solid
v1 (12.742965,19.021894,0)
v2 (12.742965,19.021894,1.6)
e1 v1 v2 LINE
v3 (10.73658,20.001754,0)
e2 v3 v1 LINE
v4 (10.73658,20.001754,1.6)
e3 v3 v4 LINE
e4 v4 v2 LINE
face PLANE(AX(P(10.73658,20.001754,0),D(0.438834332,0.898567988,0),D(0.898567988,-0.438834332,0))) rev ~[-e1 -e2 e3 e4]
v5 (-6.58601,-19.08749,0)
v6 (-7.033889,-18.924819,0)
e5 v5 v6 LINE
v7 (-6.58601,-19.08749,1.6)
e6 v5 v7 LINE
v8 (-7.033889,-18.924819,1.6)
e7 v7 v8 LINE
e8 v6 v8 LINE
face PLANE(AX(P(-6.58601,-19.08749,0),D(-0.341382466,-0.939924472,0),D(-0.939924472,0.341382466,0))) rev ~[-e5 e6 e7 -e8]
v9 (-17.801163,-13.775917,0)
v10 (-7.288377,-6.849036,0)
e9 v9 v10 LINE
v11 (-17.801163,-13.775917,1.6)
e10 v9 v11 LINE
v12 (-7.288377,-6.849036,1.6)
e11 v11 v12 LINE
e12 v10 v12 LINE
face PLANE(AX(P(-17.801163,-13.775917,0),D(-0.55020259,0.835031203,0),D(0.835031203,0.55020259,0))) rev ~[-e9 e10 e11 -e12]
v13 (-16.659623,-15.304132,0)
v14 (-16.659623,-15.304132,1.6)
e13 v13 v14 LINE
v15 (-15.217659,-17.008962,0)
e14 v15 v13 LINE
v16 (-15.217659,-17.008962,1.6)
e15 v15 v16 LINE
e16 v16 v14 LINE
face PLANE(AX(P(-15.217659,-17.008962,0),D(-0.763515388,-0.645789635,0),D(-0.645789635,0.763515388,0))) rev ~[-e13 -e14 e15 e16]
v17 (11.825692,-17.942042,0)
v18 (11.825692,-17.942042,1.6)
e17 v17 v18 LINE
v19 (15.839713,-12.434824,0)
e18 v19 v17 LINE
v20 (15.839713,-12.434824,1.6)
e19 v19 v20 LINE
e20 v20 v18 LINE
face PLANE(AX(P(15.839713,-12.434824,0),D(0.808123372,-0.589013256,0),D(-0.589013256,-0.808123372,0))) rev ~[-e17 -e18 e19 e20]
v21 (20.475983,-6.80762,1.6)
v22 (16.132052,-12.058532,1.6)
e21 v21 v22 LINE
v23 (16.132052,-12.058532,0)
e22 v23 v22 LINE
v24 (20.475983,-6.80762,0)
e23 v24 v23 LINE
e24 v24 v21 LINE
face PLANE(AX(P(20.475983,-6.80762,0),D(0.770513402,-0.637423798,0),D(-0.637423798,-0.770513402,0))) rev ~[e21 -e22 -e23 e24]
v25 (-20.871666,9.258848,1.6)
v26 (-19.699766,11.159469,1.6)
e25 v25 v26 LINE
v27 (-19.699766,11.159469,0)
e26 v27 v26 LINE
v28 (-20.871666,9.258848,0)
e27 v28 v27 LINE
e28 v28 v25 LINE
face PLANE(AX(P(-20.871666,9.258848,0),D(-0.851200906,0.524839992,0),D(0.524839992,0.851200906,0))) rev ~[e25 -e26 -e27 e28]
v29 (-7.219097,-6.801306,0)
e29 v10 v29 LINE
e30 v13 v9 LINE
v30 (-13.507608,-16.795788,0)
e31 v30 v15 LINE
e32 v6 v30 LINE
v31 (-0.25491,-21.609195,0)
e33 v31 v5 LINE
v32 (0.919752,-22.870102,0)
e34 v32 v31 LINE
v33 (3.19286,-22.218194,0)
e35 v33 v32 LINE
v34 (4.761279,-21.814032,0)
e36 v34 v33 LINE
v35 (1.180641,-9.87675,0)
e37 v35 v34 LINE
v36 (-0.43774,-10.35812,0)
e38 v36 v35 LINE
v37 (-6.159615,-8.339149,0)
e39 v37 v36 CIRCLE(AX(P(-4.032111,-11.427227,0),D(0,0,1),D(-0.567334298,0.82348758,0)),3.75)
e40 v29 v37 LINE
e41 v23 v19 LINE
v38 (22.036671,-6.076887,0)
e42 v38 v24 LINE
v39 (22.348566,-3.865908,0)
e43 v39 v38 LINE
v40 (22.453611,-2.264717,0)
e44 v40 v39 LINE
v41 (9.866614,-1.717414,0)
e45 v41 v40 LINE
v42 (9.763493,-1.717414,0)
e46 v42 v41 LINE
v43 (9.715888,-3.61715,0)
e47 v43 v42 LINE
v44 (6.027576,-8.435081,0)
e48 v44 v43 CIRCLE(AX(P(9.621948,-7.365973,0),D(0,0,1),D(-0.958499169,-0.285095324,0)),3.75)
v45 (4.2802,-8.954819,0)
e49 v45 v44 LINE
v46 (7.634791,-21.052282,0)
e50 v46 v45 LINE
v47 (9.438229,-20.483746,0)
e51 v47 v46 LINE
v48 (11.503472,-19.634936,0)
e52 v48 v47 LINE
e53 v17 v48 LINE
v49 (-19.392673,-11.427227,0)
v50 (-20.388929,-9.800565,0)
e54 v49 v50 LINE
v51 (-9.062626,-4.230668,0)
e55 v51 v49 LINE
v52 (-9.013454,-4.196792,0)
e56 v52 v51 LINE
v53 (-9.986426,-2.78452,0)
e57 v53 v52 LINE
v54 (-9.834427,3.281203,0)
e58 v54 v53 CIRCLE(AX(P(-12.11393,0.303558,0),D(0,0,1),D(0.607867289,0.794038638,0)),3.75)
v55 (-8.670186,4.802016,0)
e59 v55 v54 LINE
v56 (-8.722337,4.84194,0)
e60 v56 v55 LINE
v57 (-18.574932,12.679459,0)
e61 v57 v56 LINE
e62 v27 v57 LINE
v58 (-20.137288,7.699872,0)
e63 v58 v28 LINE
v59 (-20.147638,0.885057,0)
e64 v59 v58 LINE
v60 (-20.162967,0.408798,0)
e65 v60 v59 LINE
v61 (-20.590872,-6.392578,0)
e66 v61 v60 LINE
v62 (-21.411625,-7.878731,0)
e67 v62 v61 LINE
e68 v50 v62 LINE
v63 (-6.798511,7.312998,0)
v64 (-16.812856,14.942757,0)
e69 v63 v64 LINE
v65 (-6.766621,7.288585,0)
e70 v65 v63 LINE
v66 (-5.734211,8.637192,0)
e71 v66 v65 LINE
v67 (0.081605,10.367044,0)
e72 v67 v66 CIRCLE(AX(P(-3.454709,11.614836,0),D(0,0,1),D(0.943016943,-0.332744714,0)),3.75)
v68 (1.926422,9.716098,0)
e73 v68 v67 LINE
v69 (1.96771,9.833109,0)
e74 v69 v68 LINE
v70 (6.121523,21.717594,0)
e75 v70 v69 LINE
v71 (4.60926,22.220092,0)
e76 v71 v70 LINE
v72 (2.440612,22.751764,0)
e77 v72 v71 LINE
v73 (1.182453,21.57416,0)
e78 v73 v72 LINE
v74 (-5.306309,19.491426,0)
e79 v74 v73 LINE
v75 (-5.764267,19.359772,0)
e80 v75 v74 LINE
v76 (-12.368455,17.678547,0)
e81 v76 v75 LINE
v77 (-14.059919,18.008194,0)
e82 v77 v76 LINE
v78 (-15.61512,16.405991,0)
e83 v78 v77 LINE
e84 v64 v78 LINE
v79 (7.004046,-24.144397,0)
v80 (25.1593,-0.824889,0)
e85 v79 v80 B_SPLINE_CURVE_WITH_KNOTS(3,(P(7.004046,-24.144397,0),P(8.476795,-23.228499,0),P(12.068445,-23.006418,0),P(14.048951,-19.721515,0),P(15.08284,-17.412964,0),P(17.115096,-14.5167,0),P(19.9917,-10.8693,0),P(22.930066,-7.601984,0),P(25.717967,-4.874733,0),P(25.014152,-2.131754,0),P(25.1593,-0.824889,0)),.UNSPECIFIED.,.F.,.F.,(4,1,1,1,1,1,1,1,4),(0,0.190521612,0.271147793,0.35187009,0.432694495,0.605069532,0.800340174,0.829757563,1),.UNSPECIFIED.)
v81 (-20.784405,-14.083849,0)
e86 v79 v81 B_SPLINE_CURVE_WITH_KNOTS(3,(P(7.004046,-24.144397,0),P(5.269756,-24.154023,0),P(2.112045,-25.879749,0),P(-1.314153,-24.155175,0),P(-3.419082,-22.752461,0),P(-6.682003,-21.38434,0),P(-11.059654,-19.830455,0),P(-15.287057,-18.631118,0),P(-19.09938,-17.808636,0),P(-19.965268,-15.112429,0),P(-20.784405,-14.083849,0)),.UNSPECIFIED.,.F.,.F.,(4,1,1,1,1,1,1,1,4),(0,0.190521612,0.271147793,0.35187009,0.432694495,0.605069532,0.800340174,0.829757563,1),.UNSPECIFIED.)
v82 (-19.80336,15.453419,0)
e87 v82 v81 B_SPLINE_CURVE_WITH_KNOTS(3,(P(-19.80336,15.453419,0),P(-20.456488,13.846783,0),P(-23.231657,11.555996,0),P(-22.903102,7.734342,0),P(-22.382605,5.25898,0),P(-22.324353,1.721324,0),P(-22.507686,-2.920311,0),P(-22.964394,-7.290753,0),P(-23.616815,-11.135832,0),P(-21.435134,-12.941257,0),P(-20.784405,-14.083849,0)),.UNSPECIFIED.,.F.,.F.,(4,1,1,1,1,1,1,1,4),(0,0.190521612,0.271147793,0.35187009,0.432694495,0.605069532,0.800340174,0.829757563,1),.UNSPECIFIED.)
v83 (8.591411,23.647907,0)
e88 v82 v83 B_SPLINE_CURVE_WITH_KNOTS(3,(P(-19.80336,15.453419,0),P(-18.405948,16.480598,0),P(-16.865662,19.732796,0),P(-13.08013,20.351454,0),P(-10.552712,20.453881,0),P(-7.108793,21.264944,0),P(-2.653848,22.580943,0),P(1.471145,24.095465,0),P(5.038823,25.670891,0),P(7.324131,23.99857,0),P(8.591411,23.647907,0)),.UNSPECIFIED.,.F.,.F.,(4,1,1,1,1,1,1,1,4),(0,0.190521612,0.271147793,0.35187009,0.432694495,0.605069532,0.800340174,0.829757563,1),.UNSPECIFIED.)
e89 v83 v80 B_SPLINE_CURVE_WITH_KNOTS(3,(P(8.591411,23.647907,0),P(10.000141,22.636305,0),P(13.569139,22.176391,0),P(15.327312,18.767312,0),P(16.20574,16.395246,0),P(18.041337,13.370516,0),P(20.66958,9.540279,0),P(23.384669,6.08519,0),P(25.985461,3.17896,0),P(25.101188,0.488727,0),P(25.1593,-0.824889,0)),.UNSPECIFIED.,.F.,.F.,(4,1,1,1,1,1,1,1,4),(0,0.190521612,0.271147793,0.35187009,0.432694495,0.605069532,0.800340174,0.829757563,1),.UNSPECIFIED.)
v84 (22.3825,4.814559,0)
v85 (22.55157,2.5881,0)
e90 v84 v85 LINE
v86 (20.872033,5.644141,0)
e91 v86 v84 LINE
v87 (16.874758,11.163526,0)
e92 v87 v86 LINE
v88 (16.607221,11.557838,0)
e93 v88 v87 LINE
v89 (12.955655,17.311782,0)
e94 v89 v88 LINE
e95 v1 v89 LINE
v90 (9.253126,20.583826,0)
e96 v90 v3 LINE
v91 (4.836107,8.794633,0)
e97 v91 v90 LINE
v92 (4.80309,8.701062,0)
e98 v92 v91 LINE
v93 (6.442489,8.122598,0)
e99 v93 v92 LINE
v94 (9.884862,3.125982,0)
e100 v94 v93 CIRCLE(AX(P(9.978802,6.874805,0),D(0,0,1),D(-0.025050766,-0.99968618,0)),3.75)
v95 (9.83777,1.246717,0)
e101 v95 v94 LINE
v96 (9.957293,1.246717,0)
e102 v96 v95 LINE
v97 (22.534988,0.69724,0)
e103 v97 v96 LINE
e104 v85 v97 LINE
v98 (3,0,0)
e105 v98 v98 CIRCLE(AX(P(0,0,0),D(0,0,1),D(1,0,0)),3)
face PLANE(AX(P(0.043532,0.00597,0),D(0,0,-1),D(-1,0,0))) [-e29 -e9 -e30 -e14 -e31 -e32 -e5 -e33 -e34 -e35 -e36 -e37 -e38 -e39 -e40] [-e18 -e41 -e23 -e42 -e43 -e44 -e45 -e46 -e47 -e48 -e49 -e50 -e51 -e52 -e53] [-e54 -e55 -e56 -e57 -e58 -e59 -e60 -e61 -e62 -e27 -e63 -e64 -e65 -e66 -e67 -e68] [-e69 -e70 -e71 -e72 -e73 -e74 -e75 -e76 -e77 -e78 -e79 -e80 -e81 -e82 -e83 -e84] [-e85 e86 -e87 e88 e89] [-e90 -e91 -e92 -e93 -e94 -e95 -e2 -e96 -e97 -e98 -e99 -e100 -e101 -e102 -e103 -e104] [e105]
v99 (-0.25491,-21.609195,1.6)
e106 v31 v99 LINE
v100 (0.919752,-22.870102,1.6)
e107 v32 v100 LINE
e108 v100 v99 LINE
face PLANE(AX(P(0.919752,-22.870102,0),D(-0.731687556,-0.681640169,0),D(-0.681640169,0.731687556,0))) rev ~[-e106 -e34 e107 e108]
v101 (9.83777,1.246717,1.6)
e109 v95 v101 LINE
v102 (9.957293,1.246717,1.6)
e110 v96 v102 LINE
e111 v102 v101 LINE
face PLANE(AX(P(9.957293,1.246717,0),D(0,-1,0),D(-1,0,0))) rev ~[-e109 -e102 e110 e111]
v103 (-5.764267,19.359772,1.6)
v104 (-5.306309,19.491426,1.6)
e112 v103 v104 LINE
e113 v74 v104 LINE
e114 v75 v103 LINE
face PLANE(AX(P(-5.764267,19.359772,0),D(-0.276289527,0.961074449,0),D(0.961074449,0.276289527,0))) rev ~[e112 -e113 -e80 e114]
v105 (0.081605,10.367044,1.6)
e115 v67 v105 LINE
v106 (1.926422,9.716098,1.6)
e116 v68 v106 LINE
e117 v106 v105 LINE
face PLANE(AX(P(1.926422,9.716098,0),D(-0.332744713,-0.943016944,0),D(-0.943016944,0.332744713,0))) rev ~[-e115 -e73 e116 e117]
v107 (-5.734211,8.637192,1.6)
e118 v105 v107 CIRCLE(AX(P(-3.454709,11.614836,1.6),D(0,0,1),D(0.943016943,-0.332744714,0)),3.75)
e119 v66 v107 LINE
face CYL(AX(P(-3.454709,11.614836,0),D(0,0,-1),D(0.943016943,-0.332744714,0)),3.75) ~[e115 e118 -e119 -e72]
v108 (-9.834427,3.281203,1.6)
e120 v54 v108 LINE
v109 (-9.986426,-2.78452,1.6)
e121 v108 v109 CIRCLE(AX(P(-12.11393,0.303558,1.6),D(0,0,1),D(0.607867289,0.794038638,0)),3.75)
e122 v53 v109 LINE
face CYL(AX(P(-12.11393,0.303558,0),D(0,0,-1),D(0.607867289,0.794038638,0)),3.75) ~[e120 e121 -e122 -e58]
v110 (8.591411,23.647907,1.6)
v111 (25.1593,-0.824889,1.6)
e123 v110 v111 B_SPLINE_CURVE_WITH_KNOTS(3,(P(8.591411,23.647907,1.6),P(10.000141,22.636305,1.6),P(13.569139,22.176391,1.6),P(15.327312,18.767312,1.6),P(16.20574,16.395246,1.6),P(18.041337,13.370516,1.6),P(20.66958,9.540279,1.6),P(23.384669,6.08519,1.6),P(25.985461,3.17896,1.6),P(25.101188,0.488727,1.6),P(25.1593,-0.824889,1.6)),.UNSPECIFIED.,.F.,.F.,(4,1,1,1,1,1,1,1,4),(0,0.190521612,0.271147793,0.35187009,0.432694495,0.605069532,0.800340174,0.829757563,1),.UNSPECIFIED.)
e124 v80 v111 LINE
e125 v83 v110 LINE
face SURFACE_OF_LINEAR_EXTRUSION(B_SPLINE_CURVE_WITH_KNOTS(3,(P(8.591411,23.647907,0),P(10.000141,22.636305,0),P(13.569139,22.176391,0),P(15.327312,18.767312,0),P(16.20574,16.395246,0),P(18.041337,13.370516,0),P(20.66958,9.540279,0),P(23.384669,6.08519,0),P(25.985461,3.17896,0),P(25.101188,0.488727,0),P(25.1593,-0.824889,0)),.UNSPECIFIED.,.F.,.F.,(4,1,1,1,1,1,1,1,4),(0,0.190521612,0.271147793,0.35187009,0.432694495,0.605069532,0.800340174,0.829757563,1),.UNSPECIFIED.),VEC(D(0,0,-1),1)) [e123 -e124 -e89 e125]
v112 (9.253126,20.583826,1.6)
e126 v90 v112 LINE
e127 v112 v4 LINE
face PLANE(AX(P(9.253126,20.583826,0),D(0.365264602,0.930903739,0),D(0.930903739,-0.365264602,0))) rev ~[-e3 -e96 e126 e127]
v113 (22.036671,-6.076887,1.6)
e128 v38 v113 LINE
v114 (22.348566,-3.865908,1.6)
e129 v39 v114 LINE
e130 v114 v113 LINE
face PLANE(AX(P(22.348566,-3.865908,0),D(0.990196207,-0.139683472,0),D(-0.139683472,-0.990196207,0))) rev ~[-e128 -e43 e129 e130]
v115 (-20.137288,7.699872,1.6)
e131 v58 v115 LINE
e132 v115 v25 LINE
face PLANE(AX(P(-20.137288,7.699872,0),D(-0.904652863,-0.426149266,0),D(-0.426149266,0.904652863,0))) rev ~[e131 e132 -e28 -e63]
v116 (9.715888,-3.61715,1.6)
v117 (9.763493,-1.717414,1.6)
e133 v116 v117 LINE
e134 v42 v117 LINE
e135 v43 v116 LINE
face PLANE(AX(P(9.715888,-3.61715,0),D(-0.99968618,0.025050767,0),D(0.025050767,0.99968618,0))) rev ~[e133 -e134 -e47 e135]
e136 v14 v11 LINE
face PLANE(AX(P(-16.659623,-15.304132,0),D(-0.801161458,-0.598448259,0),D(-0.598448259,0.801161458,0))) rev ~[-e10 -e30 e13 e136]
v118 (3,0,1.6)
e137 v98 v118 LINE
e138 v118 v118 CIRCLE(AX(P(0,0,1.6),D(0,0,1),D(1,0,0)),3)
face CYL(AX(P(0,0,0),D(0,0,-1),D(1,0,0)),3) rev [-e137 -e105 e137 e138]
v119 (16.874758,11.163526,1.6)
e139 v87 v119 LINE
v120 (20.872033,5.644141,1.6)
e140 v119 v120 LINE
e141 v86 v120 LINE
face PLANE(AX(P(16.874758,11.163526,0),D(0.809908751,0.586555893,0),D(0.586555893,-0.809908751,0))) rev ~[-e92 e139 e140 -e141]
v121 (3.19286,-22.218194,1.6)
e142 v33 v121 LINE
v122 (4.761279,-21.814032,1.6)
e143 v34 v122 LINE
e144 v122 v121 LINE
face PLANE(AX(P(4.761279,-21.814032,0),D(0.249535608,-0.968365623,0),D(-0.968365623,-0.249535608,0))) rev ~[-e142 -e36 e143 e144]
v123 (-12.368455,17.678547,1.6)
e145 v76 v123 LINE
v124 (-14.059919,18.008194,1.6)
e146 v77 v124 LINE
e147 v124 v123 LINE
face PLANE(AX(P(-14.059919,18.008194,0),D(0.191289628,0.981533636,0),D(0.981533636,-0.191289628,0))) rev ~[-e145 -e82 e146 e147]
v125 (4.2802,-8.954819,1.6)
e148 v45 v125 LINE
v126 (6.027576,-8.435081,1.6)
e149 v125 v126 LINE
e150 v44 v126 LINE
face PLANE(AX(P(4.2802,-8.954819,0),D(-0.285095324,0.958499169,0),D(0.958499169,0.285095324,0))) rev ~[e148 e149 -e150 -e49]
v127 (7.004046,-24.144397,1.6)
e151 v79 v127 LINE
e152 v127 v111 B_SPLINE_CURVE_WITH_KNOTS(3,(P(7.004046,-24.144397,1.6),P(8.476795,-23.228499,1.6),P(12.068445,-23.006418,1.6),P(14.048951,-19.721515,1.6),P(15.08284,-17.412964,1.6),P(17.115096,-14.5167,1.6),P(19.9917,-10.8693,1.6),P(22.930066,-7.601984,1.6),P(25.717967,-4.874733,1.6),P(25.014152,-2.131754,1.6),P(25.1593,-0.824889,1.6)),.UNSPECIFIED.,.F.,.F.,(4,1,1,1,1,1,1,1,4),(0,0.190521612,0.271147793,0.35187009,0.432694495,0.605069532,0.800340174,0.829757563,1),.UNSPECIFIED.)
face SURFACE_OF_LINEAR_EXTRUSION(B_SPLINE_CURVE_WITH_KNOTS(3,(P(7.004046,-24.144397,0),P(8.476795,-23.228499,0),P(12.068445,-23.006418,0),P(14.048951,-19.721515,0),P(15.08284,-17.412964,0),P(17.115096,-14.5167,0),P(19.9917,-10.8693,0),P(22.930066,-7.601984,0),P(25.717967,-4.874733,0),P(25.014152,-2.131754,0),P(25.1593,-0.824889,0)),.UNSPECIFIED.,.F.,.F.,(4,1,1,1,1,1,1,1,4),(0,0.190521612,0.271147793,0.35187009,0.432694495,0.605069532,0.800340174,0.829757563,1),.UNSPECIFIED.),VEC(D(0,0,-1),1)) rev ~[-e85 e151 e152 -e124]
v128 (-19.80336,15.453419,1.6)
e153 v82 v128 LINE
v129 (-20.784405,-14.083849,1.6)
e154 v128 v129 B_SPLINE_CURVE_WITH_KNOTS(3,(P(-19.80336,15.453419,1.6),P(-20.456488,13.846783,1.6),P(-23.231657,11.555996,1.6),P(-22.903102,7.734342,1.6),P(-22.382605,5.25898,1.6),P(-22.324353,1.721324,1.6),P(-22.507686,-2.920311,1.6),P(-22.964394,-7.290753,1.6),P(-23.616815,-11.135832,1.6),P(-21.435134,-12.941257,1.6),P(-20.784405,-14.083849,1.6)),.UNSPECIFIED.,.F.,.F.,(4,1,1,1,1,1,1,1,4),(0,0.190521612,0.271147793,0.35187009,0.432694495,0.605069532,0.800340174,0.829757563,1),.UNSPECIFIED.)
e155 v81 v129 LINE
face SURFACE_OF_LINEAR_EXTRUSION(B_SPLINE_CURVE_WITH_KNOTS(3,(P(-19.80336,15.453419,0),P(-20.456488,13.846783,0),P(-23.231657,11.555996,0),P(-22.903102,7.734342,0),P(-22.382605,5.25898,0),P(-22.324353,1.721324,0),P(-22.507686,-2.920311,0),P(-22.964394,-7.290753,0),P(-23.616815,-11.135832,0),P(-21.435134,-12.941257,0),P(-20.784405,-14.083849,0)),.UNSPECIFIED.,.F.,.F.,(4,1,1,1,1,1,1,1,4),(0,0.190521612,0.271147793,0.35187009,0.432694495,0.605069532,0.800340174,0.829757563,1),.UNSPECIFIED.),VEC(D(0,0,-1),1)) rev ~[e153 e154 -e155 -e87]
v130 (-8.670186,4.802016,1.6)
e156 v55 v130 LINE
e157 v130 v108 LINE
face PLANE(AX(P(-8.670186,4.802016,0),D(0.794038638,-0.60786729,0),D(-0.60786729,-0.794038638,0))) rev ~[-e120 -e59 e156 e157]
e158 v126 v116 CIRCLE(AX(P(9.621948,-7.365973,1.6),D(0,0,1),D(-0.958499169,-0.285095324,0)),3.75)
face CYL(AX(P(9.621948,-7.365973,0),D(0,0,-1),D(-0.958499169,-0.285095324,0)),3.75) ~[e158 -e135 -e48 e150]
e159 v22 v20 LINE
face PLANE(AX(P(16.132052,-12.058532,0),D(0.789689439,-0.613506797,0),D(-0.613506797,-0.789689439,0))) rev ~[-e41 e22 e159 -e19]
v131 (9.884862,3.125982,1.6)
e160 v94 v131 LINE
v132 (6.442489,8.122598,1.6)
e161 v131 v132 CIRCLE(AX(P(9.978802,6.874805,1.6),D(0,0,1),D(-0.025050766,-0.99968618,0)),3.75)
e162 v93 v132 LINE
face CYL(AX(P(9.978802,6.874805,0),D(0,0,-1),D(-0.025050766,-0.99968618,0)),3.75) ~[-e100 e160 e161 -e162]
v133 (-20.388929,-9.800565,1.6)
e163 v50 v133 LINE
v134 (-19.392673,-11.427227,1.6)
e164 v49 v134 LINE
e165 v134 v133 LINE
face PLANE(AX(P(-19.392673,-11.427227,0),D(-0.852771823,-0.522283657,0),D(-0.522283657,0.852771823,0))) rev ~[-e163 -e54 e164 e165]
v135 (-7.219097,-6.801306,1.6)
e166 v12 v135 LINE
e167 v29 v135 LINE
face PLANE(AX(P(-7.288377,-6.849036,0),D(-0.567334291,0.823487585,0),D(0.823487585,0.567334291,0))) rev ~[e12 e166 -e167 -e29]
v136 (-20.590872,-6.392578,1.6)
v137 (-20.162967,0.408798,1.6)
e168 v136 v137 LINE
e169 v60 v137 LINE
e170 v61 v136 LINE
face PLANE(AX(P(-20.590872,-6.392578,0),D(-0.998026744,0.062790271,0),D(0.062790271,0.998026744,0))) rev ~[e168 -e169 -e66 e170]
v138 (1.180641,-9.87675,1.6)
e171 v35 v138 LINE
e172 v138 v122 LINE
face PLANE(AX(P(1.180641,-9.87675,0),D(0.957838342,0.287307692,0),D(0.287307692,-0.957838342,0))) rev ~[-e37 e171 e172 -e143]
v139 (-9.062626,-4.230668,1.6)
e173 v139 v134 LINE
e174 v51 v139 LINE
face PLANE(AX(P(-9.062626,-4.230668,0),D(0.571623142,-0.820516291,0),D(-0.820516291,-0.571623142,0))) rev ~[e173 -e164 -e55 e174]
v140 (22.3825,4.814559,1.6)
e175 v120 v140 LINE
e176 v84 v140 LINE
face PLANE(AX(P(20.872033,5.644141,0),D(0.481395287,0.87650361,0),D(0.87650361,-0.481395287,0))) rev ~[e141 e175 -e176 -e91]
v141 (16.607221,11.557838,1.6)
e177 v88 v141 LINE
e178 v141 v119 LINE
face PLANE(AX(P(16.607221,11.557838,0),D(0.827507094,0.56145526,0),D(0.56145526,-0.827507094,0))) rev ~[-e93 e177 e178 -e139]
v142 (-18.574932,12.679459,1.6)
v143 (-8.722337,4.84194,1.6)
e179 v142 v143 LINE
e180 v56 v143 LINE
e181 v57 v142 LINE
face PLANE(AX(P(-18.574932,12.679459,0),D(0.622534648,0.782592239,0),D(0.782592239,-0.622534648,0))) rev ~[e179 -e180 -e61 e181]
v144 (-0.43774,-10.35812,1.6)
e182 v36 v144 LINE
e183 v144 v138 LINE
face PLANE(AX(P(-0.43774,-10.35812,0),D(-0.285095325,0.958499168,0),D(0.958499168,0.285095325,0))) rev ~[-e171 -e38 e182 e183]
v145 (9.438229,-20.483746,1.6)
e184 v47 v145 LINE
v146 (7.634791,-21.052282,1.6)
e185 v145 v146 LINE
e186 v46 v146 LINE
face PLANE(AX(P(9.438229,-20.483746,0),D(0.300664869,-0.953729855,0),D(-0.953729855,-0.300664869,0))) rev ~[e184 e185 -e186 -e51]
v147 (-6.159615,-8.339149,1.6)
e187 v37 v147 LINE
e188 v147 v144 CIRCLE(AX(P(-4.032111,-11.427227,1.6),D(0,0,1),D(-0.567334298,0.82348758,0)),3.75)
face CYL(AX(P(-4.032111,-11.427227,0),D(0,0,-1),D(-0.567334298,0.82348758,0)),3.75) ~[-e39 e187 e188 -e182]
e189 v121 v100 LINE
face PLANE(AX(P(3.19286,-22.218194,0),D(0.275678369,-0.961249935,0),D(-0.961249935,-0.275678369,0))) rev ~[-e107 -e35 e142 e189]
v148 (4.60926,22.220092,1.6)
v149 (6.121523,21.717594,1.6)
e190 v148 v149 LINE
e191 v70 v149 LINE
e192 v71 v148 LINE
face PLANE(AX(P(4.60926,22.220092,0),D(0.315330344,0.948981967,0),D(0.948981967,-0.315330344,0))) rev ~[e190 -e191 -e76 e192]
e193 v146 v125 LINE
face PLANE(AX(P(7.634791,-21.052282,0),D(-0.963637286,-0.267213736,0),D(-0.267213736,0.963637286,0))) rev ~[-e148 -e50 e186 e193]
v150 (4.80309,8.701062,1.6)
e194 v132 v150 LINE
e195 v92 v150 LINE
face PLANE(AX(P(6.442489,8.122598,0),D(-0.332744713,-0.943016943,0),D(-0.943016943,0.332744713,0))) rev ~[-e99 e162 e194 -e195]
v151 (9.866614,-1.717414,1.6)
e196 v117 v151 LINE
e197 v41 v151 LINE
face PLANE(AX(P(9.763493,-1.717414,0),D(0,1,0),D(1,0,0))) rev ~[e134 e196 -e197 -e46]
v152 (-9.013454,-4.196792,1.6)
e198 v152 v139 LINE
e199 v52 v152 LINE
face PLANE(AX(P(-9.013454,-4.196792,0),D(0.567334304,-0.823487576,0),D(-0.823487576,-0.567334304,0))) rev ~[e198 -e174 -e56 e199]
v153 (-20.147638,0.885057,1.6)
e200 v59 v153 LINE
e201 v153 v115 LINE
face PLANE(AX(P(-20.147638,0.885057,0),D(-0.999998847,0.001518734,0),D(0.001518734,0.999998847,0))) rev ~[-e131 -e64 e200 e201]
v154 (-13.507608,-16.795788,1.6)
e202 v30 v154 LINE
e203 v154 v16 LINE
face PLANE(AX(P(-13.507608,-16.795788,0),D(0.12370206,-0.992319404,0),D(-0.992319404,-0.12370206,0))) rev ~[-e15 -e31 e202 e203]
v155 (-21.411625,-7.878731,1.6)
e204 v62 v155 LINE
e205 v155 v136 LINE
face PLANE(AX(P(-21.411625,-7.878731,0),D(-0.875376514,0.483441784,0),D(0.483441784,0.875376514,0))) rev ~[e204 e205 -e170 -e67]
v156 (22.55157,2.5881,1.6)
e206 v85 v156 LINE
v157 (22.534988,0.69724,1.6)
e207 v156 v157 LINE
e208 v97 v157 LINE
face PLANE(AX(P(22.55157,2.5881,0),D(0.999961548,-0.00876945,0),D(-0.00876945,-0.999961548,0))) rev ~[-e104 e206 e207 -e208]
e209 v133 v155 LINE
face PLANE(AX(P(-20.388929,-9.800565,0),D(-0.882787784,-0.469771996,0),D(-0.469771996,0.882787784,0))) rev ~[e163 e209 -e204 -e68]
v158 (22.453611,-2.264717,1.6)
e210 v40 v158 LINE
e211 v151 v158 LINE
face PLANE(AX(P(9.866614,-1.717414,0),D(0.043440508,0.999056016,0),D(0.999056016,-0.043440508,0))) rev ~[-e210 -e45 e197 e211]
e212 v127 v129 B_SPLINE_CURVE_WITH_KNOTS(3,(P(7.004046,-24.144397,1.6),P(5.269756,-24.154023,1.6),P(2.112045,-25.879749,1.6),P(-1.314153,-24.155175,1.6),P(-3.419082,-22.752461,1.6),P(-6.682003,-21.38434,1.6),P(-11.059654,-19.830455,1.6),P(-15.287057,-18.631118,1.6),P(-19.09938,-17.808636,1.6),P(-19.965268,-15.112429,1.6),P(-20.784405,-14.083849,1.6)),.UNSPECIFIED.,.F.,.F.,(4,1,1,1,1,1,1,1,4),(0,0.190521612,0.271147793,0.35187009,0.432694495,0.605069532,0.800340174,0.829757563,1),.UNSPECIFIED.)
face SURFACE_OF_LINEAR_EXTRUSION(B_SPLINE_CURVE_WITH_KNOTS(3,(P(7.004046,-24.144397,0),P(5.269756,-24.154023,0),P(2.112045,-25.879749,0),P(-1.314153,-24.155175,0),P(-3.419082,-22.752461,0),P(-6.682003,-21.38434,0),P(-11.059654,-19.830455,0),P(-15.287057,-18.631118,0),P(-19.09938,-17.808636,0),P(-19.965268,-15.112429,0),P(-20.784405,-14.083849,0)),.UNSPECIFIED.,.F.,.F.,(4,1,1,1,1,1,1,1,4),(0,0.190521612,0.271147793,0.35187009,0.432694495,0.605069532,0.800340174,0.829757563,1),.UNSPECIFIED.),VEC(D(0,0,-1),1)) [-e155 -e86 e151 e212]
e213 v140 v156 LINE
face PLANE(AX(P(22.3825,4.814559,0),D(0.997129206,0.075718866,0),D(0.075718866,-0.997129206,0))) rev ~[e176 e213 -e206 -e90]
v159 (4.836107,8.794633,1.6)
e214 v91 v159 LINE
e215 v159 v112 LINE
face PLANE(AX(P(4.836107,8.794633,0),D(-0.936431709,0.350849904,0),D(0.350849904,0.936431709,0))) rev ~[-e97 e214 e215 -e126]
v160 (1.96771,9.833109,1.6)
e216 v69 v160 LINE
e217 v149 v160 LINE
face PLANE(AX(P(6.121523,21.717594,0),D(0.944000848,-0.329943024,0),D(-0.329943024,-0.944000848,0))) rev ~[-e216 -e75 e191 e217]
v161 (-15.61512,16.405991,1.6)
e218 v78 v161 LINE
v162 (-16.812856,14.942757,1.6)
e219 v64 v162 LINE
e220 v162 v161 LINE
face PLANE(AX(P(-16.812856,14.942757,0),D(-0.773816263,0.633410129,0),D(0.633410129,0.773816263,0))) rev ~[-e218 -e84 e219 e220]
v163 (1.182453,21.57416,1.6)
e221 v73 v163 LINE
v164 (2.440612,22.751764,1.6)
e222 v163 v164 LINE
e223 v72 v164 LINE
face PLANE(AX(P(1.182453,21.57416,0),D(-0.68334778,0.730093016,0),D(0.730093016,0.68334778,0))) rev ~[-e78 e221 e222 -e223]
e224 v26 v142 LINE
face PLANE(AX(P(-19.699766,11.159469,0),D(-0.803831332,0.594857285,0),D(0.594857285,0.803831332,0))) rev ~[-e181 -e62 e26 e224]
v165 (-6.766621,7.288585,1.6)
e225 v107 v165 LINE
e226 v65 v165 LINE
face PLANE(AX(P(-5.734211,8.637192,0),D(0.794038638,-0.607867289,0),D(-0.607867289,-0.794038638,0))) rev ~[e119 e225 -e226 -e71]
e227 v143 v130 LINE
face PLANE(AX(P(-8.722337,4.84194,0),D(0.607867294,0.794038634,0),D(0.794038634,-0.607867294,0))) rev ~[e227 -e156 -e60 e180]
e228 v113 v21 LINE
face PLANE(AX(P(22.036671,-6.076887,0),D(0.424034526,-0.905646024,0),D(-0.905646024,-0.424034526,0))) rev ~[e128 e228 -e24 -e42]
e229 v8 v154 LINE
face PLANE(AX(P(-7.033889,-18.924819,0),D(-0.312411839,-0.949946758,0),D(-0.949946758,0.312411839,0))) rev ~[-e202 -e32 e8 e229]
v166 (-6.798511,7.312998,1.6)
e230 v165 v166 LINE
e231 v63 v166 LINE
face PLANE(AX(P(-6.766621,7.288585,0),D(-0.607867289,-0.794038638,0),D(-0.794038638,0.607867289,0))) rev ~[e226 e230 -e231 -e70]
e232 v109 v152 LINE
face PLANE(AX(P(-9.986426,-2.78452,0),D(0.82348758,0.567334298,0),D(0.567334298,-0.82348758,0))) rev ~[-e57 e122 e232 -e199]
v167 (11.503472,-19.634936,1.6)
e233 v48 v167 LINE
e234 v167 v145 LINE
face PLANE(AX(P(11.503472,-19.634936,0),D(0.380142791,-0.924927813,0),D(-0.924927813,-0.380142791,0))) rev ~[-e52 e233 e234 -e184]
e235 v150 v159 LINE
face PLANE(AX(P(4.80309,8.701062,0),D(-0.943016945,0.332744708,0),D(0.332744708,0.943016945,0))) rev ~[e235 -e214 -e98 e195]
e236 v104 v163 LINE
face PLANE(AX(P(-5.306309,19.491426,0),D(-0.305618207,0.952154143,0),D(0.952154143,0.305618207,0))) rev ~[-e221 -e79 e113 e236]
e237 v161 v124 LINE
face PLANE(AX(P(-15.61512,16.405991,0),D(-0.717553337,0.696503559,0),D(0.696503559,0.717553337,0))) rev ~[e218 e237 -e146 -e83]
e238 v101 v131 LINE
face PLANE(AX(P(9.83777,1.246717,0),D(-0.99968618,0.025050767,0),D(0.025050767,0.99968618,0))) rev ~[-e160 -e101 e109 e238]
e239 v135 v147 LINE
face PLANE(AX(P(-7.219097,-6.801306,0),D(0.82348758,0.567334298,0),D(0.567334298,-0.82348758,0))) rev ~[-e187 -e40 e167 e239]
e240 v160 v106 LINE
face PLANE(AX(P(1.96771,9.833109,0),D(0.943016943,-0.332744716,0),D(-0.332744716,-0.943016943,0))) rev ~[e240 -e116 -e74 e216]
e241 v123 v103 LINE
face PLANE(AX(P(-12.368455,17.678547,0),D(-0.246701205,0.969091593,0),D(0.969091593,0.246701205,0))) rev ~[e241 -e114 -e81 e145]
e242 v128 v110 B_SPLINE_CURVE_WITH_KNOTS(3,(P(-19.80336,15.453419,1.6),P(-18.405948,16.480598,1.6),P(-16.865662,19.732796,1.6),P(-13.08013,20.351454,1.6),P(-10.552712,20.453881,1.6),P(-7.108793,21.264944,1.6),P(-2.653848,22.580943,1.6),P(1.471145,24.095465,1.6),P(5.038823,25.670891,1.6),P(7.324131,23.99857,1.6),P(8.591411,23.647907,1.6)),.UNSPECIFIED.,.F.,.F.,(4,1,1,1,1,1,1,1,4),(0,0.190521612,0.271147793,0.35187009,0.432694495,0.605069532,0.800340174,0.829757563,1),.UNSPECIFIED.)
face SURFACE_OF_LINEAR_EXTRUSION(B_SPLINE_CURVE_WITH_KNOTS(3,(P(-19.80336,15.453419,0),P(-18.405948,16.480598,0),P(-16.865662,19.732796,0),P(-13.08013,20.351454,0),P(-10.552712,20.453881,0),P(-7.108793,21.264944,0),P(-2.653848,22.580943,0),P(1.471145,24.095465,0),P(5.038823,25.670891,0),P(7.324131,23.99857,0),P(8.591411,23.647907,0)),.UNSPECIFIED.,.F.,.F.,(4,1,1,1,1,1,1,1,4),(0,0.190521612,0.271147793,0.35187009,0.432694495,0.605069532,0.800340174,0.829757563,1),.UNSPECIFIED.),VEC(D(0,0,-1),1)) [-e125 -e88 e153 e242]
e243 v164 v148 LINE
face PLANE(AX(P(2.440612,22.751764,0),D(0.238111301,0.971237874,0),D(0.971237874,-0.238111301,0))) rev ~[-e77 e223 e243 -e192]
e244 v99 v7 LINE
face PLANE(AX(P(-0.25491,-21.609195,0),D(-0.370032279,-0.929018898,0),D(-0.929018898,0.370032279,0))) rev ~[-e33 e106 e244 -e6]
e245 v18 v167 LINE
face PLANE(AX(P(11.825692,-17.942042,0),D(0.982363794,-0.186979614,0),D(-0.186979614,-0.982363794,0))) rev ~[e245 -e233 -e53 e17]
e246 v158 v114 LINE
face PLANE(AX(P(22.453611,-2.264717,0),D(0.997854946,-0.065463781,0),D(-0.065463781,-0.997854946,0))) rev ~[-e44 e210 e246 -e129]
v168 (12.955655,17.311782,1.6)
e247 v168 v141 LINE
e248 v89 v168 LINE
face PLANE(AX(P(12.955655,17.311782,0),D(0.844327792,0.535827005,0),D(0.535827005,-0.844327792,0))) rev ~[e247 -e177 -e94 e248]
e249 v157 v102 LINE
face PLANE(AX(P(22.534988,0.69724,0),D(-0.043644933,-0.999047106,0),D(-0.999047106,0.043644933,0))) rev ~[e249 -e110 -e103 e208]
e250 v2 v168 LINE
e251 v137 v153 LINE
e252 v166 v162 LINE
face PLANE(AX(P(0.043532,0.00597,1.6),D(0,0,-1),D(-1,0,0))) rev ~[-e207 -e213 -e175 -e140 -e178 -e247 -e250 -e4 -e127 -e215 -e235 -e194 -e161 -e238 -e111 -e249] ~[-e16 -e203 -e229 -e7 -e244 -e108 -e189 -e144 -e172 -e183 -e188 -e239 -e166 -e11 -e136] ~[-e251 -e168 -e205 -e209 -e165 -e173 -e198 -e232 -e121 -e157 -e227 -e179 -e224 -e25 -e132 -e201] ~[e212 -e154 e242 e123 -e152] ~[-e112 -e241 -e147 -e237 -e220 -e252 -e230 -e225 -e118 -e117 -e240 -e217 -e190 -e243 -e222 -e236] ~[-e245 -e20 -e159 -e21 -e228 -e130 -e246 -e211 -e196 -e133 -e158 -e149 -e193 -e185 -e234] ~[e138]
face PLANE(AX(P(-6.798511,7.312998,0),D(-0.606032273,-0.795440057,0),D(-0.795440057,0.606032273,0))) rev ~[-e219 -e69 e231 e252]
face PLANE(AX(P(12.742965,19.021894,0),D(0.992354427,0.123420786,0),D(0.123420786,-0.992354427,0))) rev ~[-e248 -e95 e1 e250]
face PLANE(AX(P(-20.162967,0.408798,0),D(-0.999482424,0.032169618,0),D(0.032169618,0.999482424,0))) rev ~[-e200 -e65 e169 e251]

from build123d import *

# Parameters (mm, degrees)
SKETCH1_R           = 3
BOSS_EXTRUDE1_DEPTH = 1.6


with BuildPart() as part:
    # Sketch1 → Boss-Extrude1 (new body)
    with BuildSketch(Plane.XY):
        with BuildLine():
            add(Edge.make_bspline(
                [(-19.803359715, 15.453419311), (-18.405947529, 16.480598176), (-16.865662186, 19.732795688), (-13.080130181, 20.35145444), (-10.552712302, 20.453881039), (-7.10879258, 21.264944161), (-2.653848069, 22.580943494), (1.471145086, 24.09546527), (5.038822654, 25.670890535), (7.324131038, 23.998569775), (8.591411433, 23.647907344)],
                knots=[0, 0, 0, 0, 0.190521612, 0.271147793, 0.35187009, 0.432694495, 0.605069532, 0.800340174, 0.829757563, 1, 1, 1, 1], degree=3))
            add(Edge.make_bspline(
                [(-19.803359715, 15.453419311), (-20.456487654, 13.846782721), (-23.231656968, 11.555996203), (-22.903102354, 7.734341708), (-22.382604891, 5.258980172), (-22.324352891, 1.721323724), (-22.507686222, -2.920311088), (-22.964393827, -7.290753046), (-23.616815258, -11.135832274), (-21.435134382, -12.941257344), (-20.78440531, -14.083848879)],
                knots=[0, 0, 0, 0, 0.190521612, 0.271147793, 0.35187009, 0.432694495, 0.605069532, 0.800340174, 0.829757563, 1, 1, 1, 1], degree=3))
            add(Edge.make_bspline(
                [(7.004046315, -24.144396523), (5.269755521, -24.154023407), (2.112044767, -25.879749455), (-1.314153448, -24.155175014), (-3.419082308, -22.752460918), (-6.682002832, -21.384339544), (-11.059653651, -19.830454685), (-15.287056779, -18.631118398), (-19.099380299, -17.808635952), (-19.965268139, -15.112429472), (-20.78440531, -14.083848879)],
                knots=[0, 0, 0, 0, 0.190521612, 0.271147793, 0.35187009, 0.432694495, 0.605069532, 0.800340174, 0.829757563, 1, 1, 1, 1], degree=3))
            add(Edge.make_bspline(
                [(7.004046315, -24.144396523), (8.476795211, -23.228499189), (12.06844488, -23.006417561), (14.048950766, -19.721514571), (15.082840477, -17.412964288), (17.115095907, -14.516700435), (19.991700177, -10.869299619), (22.93006572, -7.601983797), (25.717966609, -4.874733052), (25.014151934, -2.131753644), (25.15929951, -0.824888722)],
                knots=[0, 0, 0, 0, 0.190521612, 0.271147793, 0.35187009, 0.432694495, 0.605069532, 0.800340174, 0.829757563, 1, 1, 1, 1], degree=3))
            add(Edge.make_bspline(
                [(8.591411433, 23.647907344), (10.000140699, 22.636305104), (13.569138682, 22.176390993), (15.327311842, 18.767312179), (16.205740403, 16.395246496), (18.041336991, 13.370516491), (20.669580295, 9.540278642), (23.384669086, 6.085189989), (25.985460549, 3.17896017), (25.101188121, 0.488727206), (25.15929951, -0.824888722)],
                knots=[0, 0, 0, 0, 0.190521612, 0.271147793, 0.35187009, 0.432694495, 0.605069532, 0.800340174, 0.829757563, 1, 1, 1, 1], degree=3))
        make_face()
        with BuildLine():
            Line((-17.801162623, -13.775916995), (-7.288377194, -6.849035991))
            Line((-7.288377194, -6.849035991), (-7.219097449, -6.80130634))
            Line((-7.219097449, -6.80130634), (-6.159615012, -8.339148545))
            ThreePointArc((-6.159615012, -8.339148545), (-5.27990407, -14.963540508), (-0.437739512, -10.358119505))
            Line((-0.437739512, -10.358119505), (1.180640518, -9.876749677))
            Line((1.180640518, -9.876749677), (4.761279199, -21.814031949))
            Line((4.761279199, -21.814031949), (3.192860098, -22.21819377))
            Line((3.192860098, -22.21819377), (0.919751527, -22.870102125))
            Line((0.919751527, -22.870102125), (-0.254910052, -21.60919454))
            Line((-0.254910052, -21.60919454), (-6.586009521, -19.087490005))
            Line((-6.586009521, -19.087490005), (-7.033888934, -18.924819298))
            Line((-7.033888934, -18.924819298), (-13.507608069, -16.79578787))
            Line((-13.507608069, -16.79578787), (-15.217659106, -17.00896201))
            Line((-15.217659106, -17.00896201), (-16.659623067, -15.304131809))
            Line((-16.659623067, -15.304131809), (-17.801162623, -13.775916995))
        make_face(mode=Mode.SUBTRACT)
        with BuildLine():
            Line((7.634790842, -21.052282346), (4.280200388, -8.954818752))
            Line((4.280200388, -8.954818752), (6.027575847, -8.435080614))
            ThreePointArc((6.027575847, -8.435080614), (12.599592621, -9.645475484), (9.715888103, -3.617149972))
            Line((9.715888103, -3.617149972), (9.763492876, -1.717414351))
            Line((9.763492876, -1.717414351), (9.866614215, -1.717414351))
            Line((9.866614215, -1.717414351), (22.45361097, -2.264716527))
            Line((22.45361097, -2.264716527), (22.348565614, -3.865907691))
            Line((22.348565614, -3.865907691), (22.036670653, -6.076886573))
            Line((22.036670653, -6.076886573), (20.475982717, -6.807619719))
            Line((20.475982717, -6.807619719), (16.132052278, -12.058532267))
            Line((16.132052278, -12.058532267), (15.839712763, -12.434823824))
            Line((15.839712763, -12.434823824), (11.825691605, -17.942041668))
            Line((11.825691605, -17.942041668), (11.503472084, -19.634936333))
            Line((11.503472084, -19.634936333), (9.438229008, -20.483745566))
            Line((9.438229008, -20.483745566), (7.634790842, -21.052282346))
        make_face(mode=Mode.SUBTRACT)
        with BuildLine():
            Line((-9.013454275, -4.196791566), (-9.062625773, -4.230667824))
            Line((-9.062625773, -4.230667824), (-19.392672935, -11.42722697))
            Line((-19.392672935, -11.42722697), (-20.388928576, -9.800565427))
            Line((-20.388928576, -9.800565427), (-21.411625147, -7.878730903))
            Line((-21.411625147, -7.878730903), (-20.590871671, -6.392578193))
            Line((-20.590871671, -6.392578193), (-20.16296708, 0.408797543))
            Line((-20.16296708, 0.408797543), (-20.147638072, 0.885056663))
            Line((-20.147638072, 0.885056663), (-20.137288169, 7.699871931))
            Line((-20.137288169, 7.699871931), (-20.871665619, 9.258848366))
            Line((-20.871665619, 9.258848366), (-19.699766422, 11.159468884))
            Line((-19.699766422, 11.159468884), (-18.574931832, 12.679459157))
            Line((-18.574931832, 12.679459157), (-8.722336792, 4.841939849))
            Line((-8.722336792, 4.841939849), (-8.670186056, 4.802016443))
            Line((-8.670186056, 4.802016443), (-9.834427282, 3.281203376))
            ThreePointArc((-9.834427282, 3.281203376), (-15.862752793, 0.397498858), (-9.986426, -2.784519941))
            Line((-9.986426, -2.784519941), (-9.013454275, -4.196791566))
        make_face(mode=Mode.SUBTRACT)
        Circle(SKETCH1_R, mode=Mode.SUBTRACT)
        with BuildLine():
            Line((6.121522806, 21.717593523), (1.967710182, 9.833109359))
            Line((1.967710182, 9.833109359), (1.926422403, 9.716097508))
            Line((1.926422403, 9.716097508), (0.081604692, 10.367043755))
            ThreePointArc((0.081604692, 10.367043755), (-4.523816312, 15.209208313), (-5.734211182, 8.637191539))
            Line((-5.734211182, 8.637191539), (-6.766621458, 7.288585249))
            Line((-6.766621458, 7.288585249), (-6.798510611, 7.312997629))
            Line((-6.798510611, 7.312997629), (-16.812855722, 14.94275712))
            Line((-16.812855722, 14.94275712), (-15.615120331, 16.405990943))
            Line((-15.615120331, 16.405990943), (-14.059918796, 18.008193884))
            Line((-14.059918796, 18.008193884), (-12.368454733, 17.678546972))
            Line((-12.368454733, 17.678546972), (-5.764266933, 19.359772047))
            Line((-5.764266933, 19.359772047), (-5.306309433, 19.491425595))
            Line((-5.306309433, 19.491425595), (1.182452638, 21.574159623))
            Line((1.182452638, 21.574159623), (2.440612373, 22.751763906))
            Line((2.440612373, 22.751763906), (4.609259773, 22.220092452))
            Line((4.609259773, 22.220092452), (6.121522806, 21.717593523))
        make_face(mode=Mode.SUBTRACT)
        with BuildLine():
            Line((22.534987607, 0.697240391), (9.957292517, 1.246716644))
            Line((9.957292517, 1.246716644), (9.837769938, 1.246716644))
            Line((9.837769938, 1.246716644), (9.884861755, 3.125982028))
            ThreePointArc((9.884861755, 3.125982028), (13.066880554, 9.002308821), (6.442488591, 8.122597879))
            Line((6.442488591, 8.122597879), (4.803089909, 8.701061764))
            Line((4.803089909, 8.701061764), (4.836106759, 8.794633347))
            Line((4.836106759, 8.794633347), (9.253126228, 20.583825947))
            Line((9.253126228, 20.583825947), (10.736580456, 20.001753607))
            Line((10.736580456, 20.001753607), (12.742965485, 19.021893824))
            Line((12.742965485, 19.021893824), (12.95565491, 17.311782432))
            Line((12.95565491, 17.311782432), (16.607221178, 11.557837868))
            Line((16.607221178, 11.557837868), (16.874757837, 11.163525981))
            Line((16.874757837, 11.163525981), (20.872032501, 5.644141096))
            Line((20.872032501, 5.644141096), (22.382499695, 4.814558901))
            Line((22.382499695, 4.814558901), (22.55157004, 2.588099537))
            Line((22.55157004, 2.588099537), (22.534987607, 0.697240391))
        make_face(mode=Mode.SUBTRACT)
    extrude(amount=BOSS_EXTRUDE1_DEPTH)


solid = part.part
